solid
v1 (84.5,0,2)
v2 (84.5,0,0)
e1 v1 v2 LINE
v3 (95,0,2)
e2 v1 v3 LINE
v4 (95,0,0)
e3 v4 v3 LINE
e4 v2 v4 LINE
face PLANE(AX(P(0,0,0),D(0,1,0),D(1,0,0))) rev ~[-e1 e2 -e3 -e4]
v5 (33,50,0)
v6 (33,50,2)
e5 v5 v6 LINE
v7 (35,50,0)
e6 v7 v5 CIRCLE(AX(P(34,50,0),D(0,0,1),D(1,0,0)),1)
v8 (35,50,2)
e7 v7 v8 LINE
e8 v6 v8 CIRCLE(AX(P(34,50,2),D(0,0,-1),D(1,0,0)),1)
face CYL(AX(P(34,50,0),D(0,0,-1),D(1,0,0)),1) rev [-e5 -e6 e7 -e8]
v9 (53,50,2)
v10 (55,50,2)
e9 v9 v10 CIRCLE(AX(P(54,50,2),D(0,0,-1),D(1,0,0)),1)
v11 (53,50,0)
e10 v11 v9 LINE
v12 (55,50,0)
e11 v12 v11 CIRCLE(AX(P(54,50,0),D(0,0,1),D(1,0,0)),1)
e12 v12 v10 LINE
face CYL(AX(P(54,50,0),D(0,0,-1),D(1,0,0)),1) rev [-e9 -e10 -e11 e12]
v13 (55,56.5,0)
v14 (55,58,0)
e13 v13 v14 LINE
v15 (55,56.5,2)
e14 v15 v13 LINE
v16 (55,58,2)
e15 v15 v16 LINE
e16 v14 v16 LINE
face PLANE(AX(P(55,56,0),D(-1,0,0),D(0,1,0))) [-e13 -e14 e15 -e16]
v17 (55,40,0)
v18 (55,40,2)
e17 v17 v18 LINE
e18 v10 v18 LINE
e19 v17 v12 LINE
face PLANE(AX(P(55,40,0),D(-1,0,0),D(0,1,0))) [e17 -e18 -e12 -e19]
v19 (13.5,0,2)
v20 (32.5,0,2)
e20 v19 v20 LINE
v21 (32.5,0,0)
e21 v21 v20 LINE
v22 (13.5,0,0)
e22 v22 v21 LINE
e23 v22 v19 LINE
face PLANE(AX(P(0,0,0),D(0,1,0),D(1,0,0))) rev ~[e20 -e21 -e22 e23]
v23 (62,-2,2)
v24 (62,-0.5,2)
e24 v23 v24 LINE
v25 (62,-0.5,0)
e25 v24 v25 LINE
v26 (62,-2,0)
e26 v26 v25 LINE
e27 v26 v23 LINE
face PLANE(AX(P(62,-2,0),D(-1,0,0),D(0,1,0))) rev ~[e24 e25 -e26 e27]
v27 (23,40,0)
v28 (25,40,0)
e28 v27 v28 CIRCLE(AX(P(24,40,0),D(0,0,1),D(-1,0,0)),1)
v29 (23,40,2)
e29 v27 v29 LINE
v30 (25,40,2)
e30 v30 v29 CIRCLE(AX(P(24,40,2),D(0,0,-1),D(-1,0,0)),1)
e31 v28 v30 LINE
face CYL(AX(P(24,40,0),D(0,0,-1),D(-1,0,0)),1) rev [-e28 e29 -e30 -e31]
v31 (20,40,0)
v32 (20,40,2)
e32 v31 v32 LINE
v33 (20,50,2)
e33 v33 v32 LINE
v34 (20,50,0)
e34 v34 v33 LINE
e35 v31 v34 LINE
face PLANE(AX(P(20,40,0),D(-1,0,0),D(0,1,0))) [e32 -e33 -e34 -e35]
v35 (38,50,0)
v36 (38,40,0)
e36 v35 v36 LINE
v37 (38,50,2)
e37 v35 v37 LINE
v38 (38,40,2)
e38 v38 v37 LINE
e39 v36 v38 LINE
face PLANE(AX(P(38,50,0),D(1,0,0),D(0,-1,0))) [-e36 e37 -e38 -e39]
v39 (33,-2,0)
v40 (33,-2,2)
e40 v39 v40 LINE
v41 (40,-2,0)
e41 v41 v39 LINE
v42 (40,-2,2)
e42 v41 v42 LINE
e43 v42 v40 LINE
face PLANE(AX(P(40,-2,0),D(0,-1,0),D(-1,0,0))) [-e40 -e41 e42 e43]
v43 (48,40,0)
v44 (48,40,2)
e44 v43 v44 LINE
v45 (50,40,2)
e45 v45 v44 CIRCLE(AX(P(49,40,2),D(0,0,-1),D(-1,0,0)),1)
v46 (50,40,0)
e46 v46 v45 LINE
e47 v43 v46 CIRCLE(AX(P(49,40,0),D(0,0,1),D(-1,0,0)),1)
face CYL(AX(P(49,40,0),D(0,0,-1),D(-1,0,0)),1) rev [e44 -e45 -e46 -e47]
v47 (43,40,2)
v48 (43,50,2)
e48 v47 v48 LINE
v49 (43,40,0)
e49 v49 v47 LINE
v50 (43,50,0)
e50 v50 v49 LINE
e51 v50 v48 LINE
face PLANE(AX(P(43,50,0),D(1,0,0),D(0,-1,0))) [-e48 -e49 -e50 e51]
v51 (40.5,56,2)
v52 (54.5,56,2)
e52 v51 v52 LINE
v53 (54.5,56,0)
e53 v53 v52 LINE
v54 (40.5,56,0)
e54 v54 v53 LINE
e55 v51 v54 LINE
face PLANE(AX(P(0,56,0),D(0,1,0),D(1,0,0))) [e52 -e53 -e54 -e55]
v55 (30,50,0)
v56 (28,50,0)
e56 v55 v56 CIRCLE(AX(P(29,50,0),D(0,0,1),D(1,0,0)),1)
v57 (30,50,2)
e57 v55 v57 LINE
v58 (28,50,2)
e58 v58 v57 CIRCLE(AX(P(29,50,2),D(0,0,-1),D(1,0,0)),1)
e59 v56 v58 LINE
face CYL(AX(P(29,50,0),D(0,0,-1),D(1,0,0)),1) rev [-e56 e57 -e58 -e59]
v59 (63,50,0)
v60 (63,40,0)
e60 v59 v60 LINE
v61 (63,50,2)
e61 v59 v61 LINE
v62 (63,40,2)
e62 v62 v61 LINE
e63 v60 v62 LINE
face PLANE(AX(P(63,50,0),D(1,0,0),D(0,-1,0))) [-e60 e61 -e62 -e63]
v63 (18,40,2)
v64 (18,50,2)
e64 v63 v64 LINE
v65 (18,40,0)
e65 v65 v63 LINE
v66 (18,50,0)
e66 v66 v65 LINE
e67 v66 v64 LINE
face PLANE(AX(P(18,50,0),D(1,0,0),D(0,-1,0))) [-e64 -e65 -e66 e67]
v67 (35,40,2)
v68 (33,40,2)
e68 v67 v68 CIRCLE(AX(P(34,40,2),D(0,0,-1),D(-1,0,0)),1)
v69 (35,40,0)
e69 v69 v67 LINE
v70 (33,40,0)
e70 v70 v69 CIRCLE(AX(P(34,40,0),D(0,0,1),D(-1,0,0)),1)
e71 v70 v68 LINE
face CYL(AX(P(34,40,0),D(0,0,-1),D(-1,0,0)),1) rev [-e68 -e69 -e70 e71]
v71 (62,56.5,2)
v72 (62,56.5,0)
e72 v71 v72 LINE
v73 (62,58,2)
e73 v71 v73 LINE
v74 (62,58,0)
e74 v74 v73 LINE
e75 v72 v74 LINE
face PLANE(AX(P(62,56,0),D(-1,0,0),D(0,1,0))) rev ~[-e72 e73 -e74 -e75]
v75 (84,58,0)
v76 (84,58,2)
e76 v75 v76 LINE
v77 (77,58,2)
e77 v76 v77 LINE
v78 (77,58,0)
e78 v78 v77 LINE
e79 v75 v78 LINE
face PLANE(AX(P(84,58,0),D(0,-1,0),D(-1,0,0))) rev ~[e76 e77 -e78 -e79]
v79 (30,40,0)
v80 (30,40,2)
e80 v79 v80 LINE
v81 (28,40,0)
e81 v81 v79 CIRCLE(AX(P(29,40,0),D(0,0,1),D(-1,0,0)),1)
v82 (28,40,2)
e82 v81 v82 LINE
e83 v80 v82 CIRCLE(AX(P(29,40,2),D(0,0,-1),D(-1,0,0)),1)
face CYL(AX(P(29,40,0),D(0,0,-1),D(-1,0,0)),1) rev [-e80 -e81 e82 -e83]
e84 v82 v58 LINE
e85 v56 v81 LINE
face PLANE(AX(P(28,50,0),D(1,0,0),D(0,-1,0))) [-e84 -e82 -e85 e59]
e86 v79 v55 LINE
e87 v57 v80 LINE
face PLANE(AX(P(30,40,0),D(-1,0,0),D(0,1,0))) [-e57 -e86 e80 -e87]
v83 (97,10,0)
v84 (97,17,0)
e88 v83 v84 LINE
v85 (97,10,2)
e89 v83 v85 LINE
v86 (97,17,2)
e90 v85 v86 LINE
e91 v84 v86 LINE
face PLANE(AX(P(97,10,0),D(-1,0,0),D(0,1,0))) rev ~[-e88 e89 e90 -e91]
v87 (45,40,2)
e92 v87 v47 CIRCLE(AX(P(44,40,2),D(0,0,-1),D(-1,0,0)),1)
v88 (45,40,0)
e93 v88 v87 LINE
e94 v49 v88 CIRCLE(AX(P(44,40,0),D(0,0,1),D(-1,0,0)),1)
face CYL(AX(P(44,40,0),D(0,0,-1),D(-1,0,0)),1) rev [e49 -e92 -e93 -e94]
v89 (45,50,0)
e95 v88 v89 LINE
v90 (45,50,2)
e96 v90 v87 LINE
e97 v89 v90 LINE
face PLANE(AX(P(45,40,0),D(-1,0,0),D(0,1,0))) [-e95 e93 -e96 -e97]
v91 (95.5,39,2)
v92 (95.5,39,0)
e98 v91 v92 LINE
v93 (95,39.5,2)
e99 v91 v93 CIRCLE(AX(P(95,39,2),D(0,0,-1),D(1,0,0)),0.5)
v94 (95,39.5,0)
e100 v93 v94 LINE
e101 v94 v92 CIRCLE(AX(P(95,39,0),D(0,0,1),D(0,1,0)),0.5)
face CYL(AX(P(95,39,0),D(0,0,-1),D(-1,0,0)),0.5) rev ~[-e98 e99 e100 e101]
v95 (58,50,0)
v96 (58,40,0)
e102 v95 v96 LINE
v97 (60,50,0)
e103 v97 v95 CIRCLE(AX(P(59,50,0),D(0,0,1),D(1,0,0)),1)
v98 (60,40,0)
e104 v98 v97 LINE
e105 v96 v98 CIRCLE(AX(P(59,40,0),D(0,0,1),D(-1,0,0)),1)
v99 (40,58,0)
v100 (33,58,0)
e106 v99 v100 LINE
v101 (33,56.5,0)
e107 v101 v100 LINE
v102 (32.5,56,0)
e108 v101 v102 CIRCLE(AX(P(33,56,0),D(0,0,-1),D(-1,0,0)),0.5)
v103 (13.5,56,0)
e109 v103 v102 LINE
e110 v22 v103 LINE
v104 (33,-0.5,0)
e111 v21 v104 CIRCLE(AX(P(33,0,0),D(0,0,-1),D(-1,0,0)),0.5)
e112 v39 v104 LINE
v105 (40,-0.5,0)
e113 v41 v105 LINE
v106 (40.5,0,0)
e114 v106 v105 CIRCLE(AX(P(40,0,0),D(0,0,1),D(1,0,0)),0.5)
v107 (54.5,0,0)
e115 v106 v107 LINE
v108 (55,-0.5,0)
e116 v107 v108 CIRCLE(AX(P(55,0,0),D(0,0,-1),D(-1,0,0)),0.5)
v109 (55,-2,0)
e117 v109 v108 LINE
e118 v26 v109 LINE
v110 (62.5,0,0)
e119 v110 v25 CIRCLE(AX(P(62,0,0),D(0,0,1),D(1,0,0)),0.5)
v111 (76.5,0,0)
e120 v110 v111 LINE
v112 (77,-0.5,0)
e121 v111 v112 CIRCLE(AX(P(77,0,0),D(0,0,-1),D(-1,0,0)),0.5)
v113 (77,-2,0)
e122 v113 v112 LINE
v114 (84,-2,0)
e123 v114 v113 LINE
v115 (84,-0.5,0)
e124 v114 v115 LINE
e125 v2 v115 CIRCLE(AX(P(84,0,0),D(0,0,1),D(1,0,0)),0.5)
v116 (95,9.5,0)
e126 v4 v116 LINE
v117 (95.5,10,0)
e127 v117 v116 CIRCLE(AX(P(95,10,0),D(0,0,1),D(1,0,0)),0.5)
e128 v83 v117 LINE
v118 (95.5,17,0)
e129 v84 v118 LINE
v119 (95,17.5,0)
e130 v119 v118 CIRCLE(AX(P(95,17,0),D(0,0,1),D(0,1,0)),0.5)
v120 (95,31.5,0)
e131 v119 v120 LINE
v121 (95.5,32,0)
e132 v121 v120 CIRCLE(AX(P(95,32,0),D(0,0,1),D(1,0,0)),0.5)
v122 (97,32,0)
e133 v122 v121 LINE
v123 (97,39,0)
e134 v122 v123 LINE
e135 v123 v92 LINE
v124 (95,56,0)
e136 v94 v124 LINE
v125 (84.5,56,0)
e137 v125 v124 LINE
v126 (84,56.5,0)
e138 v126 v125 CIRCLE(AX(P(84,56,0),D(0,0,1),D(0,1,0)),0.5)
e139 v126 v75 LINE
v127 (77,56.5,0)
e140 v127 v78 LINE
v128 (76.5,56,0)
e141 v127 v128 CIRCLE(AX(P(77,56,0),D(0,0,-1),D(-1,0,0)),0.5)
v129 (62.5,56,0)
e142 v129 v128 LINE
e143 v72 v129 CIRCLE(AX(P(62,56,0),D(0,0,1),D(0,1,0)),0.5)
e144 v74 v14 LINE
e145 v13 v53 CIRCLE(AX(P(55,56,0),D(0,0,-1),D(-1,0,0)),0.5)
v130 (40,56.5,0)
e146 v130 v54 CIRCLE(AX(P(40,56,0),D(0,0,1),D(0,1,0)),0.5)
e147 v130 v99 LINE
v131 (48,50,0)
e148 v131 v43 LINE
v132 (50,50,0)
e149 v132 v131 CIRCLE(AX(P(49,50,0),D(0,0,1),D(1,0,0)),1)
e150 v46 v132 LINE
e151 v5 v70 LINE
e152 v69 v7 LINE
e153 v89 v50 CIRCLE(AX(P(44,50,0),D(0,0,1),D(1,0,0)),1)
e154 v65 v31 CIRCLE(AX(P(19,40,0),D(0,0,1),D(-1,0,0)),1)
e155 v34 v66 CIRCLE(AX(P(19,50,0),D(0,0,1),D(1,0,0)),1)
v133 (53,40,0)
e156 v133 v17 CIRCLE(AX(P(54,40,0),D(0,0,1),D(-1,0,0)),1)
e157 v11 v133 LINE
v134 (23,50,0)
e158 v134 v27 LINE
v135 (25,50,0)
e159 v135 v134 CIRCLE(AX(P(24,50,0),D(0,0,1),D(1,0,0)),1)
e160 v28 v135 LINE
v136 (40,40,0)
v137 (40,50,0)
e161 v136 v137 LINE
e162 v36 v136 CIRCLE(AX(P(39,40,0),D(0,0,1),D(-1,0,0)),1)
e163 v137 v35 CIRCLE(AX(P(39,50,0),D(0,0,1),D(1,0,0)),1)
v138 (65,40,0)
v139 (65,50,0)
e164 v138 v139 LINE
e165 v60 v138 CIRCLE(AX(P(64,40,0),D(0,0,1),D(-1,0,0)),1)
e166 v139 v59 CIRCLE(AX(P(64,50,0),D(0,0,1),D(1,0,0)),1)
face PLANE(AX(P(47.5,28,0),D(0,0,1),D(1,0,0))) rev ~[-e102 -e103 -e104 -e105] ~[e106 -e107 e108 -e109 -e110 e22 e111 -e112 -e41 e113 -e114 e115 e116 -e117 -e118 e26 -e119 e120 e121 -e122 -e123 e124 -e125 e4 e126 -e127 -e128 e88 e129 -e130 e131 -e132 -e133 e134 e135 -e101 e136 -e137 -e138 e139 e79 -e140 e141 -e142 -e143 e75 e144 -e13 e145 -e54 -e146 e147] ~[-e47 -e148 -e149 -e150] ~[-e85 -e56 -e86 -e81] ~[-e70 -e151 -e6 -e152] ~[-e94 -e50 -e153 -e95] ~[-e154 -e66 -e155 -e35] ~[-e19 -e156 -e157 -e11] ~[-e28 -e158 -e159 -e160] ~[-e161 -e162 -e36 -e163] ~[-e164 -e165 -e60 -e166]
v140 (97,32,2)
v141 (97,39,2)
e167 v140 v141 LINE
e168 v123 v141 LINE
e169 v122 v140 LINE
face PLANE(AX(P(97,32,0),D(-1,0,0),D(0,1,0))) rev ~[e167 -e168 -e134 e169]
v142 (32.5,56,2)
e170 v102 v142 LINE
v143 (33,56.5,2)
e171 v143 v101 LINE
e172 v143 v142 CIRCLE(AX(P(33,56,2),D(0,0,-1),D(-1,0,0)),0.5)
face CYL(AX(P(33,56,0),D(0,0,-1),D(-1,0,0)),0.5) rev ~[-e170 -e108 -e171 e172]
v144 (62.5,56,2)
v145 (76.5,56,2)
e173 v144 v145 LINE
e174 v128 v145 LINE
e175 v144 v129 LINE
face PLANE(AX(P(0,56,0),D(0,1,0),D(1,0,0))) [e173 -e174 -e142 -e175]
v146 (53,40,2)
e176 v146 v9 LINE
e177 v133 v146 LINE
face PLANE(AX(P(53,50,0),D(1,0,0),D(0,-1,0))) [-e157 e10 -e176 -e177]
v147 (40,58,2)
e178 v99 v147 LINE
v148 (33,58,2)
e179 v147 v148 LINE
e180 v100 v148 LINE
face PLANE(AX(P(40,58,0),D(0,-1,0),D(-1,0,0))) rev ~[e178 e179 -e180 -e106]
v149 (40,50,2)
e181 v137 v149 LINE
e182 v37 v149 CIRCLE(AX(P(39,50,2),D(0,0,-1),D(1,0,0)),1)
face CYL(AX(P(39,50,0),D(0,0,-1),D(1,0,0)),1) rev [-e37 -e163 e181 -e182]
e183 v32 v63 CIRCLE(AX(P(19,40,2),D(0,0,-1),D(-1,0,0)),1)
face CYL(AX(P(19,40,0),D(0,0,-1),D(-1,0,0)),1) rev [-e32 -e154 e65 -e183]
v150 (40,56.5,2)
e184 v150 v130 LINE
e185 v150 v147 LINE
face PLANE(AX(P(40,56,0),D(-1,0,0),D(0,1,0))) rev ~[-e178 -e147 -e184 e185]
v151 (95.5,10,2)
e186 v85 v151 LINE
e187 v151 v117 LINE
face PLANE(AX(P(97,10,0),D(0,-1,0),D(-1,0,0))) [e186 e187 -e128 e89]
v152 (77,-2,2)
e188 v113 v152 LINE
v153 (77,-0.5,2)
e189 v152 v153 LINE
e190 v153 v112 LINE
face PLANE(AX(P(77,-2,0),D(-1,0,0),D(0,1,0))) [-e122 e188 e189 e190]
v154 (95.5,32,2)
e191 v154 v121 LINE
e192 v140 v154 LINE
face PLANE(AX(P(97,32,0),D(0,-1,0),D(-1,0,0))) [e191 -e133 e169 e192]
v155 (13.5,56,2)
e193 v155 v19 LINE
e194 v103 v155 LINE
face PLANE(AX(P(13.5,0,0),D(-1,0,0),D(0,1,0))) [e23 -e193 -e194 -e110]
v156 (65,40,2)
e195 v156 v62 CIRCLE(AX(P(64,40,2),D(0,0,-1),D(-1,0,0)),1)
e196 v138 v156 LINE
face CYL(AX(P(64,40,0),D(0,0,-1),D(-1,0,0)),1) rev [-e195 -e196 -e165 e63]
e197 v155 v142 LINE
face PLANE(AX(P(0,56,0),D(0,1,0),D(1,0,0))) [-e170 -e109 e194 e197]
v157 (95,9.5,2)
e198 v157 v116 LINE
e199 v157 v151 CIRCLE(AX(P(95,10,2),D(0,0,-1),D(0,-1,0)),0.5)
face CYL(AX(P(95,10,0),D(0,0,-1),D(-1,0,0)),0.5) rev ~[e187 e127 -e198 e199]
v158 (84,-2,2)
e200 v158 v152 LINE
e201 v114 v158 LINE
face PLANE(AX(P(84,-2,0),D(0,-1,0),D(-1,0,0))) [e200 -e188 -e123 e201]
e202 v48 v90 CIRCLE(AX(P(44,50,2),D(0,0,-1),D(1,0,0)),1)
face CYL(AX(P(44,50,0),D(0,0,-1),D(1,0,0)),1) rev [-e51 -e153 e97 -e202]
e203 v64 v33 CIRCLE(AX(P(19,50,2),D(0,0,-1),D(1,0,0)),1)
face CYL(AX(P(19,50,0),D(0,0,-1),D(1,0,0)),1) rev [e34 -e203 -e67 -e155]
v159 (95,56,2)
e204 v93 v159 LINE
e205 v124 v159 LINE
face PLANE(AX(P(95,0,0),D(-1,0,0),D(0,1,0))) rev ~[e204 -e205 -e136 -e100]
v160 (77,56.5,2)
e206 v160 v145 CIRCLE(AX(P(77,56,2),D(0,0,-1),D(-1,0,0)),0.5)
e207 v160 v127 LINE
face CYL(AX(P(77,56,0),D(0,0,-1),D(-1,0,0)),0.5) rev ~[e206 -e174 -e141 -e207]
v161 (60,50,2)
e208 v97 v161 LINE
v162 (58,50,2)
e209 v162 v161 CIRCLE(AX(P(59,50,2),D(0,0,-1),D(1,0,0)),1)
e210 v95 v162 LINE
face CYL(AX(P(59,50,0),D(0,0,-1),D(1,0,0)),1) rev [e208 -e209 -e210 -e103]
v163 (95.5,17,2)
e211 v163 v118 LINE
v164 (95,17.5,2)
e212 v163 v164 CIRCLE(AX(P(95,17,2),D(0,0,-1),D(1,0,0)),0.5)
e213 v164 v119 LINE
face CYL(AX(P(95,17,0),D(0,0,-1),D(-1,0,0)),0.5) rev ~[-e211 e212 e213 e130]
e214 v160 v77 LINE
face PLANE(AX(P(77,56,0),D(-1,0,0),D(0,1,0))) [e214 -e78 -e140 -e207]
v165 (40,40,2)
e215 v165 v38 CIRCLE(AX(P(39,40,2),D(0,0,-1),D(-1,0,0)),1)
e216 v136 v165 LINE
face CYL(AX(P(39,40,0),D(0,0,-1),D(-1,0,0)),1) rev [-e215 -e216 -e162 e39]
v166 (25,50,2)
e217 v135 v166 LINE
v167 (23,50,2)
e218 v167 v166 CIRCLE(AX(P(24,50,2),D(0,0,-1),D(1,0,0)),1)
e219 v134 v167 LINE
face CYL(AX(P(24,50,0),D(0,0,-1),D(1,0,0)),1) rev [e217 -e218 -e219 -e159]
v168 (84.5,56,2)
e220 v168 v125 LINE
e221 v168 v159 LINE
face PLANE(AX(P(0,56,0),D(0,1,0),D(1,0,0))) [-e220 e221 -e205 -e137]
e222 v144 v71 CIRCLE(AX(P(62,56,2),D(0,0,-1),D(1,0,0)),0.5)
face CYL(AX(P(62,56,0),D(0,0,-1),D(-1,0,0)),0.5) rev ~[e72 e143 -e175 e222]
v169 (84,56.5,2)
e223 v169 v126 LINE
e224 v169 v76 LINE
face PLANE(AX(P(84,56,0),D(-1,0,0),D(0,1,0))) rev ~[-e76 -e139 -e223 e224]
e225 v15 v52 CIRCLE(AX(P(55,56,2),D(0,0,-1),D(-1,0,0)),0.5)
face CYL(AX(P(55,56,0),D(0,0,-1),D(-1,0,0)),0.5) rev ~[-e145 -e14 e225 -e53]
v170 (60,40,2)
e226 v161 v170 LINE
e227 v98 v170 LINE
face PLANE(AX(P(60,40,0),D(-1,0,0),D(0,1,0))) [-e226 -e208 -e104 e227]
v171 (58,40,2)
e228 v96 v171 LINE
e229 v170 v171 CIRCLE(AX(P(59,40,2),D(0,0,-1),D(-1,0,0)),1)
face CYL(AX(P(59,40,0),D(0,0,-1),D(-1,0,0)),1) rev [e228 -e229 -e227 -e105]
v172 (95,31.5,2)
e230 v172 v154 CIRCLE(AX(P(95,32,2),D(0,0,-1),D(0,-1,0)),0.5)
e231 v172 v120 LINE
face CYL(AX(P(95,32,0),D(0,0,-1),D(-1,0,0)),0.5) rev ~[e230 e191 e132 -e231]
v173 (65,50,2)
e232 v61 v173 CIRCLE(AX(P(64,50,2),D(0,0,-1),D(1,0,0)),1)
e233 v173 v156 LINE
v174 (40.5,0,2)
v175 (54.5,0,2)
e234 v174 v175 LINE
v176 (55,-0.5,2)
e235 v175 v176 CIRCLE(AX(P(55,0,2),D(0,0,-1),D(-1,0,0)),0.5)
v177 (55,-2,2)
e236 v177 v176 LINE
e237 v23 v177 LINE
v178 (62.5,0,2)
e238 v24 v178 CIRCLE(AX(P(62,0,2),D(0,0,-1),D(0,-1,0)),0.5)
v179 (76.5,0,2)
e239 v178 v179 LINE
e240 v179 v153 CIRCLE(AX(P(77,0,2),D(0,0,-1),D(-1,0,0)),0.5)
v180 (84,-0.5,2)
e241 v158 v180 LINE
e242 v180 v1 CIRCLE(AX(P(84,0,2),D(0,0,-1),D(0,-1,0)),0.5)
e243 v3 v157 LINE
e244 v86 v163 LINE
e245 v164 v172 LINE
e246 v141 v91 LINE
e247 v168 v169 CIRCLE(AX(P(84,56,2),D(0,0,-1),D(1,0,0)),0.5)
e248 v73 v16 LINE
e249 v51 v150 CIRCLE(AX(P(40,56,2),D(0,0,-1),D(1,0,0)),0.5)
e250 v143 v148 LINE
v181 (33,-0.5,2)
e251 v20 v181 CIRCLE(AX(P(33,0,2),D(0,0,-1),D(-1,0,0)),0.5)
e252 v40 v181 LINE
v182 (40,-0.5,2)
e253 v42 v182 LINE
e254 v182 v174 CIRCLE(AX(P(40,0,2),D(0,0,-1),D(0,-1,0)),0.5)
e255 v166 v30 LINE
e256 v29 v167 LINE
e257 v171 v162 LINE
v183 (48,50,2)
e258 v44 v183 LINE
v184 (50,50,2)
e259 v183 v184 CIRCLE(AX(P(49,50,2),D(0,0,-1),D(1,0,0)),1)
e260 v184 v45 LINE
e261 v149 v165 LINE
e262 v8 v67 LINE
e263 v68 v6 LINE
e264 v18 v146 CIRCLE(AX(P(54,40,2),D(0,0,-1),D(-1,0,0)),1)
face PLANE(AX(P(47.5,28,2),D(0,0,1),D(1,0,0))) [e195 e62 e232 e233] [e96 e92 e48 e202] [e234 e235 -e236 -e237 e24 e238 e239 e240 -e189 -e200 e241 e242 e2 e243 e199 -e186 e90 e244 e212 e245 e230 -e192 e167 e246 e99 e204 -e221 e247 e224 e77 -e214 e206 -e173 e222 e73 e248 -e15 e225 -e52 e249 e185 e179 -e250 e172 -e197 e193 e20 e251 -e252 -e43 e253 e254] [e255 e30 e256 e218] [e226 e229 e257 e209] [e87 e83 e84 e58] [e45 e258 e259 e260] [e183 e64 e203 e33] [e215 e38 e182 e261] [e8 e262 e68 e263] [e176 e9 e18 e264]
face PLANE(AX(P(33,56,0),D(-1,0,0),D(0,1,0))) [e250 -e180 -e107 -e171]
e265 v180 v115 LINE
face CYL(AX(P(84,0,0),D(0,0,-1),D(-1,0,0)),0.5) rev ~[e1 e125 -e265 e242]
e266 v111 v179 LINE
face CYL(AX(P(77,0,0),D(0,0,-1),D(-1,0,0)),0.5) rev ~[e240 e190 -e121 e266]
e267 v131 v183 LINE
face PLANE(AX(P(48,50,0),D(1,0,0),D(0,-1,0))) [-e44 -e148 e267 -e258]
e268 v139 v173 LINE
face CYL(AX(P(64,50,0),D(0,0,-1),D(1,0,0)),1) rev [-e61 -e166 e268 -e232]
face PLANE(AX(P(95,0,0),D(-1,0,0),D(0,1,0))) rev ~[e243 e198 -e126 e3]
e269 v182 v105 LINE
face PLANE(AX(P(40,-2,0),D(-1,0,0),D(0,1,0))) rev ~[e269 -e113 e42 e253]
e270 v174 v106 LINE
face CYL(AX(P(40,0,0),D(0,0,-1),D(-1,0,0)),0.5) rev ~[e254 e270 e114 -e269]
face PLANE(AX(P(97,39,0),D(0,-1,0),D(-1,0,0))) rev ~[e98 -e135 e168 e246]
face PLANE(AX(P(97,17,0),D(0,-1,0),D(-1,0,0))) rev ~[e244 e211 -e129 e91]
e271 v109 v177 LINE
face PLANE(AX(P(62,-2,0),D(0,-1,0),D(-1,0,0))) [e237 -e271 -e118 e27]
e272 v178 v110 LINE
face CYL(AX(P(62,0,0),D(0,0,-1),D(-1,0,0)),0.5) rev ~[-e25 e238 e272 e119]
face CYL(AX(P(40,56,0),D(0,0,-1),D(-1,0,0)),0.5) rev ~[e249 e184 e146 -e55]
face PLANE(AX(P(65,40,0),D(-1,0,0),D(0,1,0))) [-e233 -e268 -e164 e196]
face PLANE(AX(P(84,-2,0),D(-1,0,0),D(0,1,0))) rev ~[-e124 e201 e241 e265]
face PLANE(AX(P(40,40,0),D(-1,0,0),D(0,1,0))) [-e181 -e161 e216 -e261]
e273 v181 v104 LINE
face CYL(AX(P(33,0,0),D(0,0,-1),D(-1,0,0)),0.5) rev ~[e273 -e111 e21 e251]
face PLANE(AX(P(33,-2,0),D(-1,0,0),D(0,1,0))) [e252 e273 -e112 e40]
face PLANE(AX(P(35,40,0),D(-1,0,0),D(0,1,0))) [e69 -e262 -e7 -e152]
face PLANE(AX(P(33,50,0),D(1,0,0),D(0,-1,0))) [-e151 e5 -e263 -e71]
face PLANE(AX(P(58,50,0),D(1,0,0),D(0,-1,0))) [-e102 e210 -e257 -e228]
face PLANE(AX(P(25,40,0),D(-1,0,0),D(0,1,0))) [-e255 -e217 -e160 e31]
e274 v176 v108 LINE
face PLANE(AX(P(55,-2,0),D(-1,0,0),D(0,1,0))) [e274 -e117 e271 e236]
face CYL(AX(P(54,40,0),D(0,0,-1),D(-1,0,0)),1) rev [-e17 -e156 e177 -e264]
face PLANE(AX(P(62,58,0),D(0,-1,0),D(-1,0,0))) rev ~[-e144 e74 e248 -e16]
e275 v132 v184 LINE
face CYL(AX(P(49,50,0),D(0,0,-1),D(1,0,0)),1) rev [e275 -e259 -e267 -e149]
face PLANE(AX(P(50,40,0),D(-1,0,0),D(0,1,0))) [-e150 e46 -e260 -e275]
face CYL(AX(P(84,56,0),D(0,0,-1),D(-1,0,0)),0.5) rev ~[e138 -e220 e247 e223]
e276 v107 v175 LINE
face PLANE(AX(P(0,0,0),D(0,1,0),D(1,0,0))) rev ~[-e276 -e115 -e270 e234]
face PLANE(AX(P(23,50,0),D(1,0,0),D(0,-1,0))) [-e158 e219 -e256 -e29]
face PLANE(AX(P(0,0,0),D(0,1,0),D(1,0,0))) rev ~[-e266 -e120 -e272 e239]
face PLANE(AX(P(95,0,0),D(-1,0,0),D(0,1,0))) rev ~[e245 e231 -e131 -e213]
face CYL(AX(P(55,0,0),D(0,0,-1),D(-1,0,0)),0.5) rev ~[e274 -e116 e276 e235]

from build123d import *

# Parameters (mm, degrees)
SKETCH_1_W             = 95
SKETCH_1_H             = 56
EXTRUDE_1_DEPTH        = 2
SKETCH_3_W             = 13.5
SKETCH_3_H             = 56
CUT_EXTRUDE_2_DEPTH    = 111.29505882
CUT_EXTRUDE_4_DEPTH    = 111.29505882
PATTERN_LINEAR_1_COUNT = 10
PATTERN_LINEAR_1_PITCH = 5
SKETCH_10_W            = 7
SKETCH_10_H            = 2
EXTRUDE_2_DEPTH        = 2
SKETCH_11_R            = 0.5
CUT_EXTRUDE_7_DEPTH    = 112.323851892
SKETCH_13_W            = 2
SKETCH_13_H            = 7
EXTRUDE_4_DEPTH        = 2
SKETCH_14_R            = 0.5
CUT_EXTRUDE_8_DEPTH    = 114.035392687


with BuildPart() as part:
    # 草图1 → 凸台-拉伸1 (new body)
    with BuildSketch(Plane.XY):
        with Locations((47.5, 28)):
            Rectangle(SKETCH_1_W, SKETCH_1_H)
    extrude(amount=EXTRUDE_1_DEPTH)

    # 草图3 → 切除-拉伸2 (cut, through all)
    with BuildSketch(Plane(origin=(0, 0, 0), x_dir=(-1, 0, 0), z_dir=(0, 0, -1))):
        with Locations((-6.75, 28)):
            Rectangle(SKETCH_3_W, SKETCH_3_H)
    extrude(amount=-CUT_EXTRUDE_2_DEPTH, mode=Mode.SUBTRACT)

    # 草图6 → 切除-拉伸4 (cut, through all)
    with BuildSketch(Plane(origin=(0, 0, 0), x_dir=(-1, 0, 0), z_dir=(0, 0, -1))):
        with BuildLine():
            Line((-63, 50), (-63, 40))
            ThreePointArc((-63, 40), (-64, 39), (-65, 40))
            Line((-65, 40), (-65, 50))
            ThreePointArc((-65, 50), (-64, 51), (-63, 50))
        make_face()
    cut_extrude_4 = extrude(amount=-CUT_EXTRUDE_4_DEPTH, mode=Mode.SUBTRACT)

    # 阵列(线性)1: 切除-拉伸4 ×10
    with Locations(*[(-i * PATTERN_LINEAR_1_PITCH, 0, 0) for i in range(1, PATTERN_LINEAR_1_COUNT)]):
        add(cut_extrude_4, mode=Mode.SUBTRACT)

    # 草图10 → 凸台-拉伸2 (add)
    with BuildSketch(Plane(origin=(0, 0, 0), x_dir=(-1, 0, 0), z_dir=(0, 0, -1))):
        with Locations((-36.5, 57)):
            Rectangle(SKETCH_10_W, SKETCH_10_H)
        with Locations((-80.5, 57)):
            Rectangle(SKETCH_10_W, SKETCH_10_H)
        with Locations((-58.5, 57)):
            Rectangle(SKETCH_10_W, SKETCH_10_H)
        with Locations((-80.5, -1)):
            Rectangle(SKETCH_10_W, SKETCH_10_H)
        with Locations((-58.5, -1)):
            Rectangle(SKETCH_10_W, SKETCH_10_H)
        with Locations((-36.5, -1)):
            Rectangle(SKETCH_10_W, SKETCH_10_H)
    extrude(amount=-EXTRUDE_2_DEPTH)

    # 草图11 → 切除-拉伸7 (cut, through all)
    with BuildSketch(Plane(origin=(0, 0, 0), x_dir=(-1, 0, 0), z_dir=(0, 0, -1))):
        with Locations((-84, 56)):
            Circle(SKETCH_11_R)
        with Locations((-77, 56)):
            Circle(SKETCH_11_R)
        with Locations((-62, 56)):
            Circle(SKETCH_11_R)
        with Locations((-55, 56)):
            Circle(SKETCH_11_R)
        with Locations((-40, 56)):
            Circle(SKETCH_11_R)
        with Locations((-33, 56)):
            Circle(SKETCH_11_R)
        with Locations((-84, 0)):
            Circle(SKETCH_11_R)
        with Locations((-77, 0)):
            Circle(SKETCH_11_R)
        with Locations((-62, 0)):
            Circle(SKETCH_11_R)
        with Locations((-55, 0)):
            Circle(SKETCH_11_R)
        with Locations((-40, 0)):
            Circle(SKETCH_11_R)
        with Locations((-33, 0)):
            Circle(SKETCH_11_R)
    extrude(amount=-CUT_EXTRUDE_7_DEPTH, mode=Mode.SUBTRACT)

    # 草图13 → 凸台-拉伸4 (add)
    with BuildSketch(Plane(origin=(0, 0, 0), x_dir=(-1, 0, 0), z_dir=(0, 0, -1))):
        with Locations((-96, 13.5)):
            Rectangle(SKETCH_13_W, SKETCH_13_H)
        with Locations((-96, 35.5)):
            Rectangle(SKETCH_13_W, SKETCH_13_H)
    extrude(amount=-EXTRUDE_4_DEPTH)

    # 草图14 → 切除-拉伸8 (cut, through all)
    with BuildSketch(Plane(origin=(0, 0, 0), x_dir=(-1, 0, 0), z_dir=(0, 0, -1))):
        with Locations((-95, 39)):
            Circle(SKETCH_14_R)
        with Locations((-95, 32)):
            Circle(SKETCH_14_R)
        with Locations((-95, 17)):
            Circle(SKETCH_14_R)
        with Locations((-95, 10)):
            Circle(SKETCH_14_R)
    extrude(amount=-CUT_EXTRUDE_8_DEPTH, mode=Mode.SUBTRACT)


solid = part.part
